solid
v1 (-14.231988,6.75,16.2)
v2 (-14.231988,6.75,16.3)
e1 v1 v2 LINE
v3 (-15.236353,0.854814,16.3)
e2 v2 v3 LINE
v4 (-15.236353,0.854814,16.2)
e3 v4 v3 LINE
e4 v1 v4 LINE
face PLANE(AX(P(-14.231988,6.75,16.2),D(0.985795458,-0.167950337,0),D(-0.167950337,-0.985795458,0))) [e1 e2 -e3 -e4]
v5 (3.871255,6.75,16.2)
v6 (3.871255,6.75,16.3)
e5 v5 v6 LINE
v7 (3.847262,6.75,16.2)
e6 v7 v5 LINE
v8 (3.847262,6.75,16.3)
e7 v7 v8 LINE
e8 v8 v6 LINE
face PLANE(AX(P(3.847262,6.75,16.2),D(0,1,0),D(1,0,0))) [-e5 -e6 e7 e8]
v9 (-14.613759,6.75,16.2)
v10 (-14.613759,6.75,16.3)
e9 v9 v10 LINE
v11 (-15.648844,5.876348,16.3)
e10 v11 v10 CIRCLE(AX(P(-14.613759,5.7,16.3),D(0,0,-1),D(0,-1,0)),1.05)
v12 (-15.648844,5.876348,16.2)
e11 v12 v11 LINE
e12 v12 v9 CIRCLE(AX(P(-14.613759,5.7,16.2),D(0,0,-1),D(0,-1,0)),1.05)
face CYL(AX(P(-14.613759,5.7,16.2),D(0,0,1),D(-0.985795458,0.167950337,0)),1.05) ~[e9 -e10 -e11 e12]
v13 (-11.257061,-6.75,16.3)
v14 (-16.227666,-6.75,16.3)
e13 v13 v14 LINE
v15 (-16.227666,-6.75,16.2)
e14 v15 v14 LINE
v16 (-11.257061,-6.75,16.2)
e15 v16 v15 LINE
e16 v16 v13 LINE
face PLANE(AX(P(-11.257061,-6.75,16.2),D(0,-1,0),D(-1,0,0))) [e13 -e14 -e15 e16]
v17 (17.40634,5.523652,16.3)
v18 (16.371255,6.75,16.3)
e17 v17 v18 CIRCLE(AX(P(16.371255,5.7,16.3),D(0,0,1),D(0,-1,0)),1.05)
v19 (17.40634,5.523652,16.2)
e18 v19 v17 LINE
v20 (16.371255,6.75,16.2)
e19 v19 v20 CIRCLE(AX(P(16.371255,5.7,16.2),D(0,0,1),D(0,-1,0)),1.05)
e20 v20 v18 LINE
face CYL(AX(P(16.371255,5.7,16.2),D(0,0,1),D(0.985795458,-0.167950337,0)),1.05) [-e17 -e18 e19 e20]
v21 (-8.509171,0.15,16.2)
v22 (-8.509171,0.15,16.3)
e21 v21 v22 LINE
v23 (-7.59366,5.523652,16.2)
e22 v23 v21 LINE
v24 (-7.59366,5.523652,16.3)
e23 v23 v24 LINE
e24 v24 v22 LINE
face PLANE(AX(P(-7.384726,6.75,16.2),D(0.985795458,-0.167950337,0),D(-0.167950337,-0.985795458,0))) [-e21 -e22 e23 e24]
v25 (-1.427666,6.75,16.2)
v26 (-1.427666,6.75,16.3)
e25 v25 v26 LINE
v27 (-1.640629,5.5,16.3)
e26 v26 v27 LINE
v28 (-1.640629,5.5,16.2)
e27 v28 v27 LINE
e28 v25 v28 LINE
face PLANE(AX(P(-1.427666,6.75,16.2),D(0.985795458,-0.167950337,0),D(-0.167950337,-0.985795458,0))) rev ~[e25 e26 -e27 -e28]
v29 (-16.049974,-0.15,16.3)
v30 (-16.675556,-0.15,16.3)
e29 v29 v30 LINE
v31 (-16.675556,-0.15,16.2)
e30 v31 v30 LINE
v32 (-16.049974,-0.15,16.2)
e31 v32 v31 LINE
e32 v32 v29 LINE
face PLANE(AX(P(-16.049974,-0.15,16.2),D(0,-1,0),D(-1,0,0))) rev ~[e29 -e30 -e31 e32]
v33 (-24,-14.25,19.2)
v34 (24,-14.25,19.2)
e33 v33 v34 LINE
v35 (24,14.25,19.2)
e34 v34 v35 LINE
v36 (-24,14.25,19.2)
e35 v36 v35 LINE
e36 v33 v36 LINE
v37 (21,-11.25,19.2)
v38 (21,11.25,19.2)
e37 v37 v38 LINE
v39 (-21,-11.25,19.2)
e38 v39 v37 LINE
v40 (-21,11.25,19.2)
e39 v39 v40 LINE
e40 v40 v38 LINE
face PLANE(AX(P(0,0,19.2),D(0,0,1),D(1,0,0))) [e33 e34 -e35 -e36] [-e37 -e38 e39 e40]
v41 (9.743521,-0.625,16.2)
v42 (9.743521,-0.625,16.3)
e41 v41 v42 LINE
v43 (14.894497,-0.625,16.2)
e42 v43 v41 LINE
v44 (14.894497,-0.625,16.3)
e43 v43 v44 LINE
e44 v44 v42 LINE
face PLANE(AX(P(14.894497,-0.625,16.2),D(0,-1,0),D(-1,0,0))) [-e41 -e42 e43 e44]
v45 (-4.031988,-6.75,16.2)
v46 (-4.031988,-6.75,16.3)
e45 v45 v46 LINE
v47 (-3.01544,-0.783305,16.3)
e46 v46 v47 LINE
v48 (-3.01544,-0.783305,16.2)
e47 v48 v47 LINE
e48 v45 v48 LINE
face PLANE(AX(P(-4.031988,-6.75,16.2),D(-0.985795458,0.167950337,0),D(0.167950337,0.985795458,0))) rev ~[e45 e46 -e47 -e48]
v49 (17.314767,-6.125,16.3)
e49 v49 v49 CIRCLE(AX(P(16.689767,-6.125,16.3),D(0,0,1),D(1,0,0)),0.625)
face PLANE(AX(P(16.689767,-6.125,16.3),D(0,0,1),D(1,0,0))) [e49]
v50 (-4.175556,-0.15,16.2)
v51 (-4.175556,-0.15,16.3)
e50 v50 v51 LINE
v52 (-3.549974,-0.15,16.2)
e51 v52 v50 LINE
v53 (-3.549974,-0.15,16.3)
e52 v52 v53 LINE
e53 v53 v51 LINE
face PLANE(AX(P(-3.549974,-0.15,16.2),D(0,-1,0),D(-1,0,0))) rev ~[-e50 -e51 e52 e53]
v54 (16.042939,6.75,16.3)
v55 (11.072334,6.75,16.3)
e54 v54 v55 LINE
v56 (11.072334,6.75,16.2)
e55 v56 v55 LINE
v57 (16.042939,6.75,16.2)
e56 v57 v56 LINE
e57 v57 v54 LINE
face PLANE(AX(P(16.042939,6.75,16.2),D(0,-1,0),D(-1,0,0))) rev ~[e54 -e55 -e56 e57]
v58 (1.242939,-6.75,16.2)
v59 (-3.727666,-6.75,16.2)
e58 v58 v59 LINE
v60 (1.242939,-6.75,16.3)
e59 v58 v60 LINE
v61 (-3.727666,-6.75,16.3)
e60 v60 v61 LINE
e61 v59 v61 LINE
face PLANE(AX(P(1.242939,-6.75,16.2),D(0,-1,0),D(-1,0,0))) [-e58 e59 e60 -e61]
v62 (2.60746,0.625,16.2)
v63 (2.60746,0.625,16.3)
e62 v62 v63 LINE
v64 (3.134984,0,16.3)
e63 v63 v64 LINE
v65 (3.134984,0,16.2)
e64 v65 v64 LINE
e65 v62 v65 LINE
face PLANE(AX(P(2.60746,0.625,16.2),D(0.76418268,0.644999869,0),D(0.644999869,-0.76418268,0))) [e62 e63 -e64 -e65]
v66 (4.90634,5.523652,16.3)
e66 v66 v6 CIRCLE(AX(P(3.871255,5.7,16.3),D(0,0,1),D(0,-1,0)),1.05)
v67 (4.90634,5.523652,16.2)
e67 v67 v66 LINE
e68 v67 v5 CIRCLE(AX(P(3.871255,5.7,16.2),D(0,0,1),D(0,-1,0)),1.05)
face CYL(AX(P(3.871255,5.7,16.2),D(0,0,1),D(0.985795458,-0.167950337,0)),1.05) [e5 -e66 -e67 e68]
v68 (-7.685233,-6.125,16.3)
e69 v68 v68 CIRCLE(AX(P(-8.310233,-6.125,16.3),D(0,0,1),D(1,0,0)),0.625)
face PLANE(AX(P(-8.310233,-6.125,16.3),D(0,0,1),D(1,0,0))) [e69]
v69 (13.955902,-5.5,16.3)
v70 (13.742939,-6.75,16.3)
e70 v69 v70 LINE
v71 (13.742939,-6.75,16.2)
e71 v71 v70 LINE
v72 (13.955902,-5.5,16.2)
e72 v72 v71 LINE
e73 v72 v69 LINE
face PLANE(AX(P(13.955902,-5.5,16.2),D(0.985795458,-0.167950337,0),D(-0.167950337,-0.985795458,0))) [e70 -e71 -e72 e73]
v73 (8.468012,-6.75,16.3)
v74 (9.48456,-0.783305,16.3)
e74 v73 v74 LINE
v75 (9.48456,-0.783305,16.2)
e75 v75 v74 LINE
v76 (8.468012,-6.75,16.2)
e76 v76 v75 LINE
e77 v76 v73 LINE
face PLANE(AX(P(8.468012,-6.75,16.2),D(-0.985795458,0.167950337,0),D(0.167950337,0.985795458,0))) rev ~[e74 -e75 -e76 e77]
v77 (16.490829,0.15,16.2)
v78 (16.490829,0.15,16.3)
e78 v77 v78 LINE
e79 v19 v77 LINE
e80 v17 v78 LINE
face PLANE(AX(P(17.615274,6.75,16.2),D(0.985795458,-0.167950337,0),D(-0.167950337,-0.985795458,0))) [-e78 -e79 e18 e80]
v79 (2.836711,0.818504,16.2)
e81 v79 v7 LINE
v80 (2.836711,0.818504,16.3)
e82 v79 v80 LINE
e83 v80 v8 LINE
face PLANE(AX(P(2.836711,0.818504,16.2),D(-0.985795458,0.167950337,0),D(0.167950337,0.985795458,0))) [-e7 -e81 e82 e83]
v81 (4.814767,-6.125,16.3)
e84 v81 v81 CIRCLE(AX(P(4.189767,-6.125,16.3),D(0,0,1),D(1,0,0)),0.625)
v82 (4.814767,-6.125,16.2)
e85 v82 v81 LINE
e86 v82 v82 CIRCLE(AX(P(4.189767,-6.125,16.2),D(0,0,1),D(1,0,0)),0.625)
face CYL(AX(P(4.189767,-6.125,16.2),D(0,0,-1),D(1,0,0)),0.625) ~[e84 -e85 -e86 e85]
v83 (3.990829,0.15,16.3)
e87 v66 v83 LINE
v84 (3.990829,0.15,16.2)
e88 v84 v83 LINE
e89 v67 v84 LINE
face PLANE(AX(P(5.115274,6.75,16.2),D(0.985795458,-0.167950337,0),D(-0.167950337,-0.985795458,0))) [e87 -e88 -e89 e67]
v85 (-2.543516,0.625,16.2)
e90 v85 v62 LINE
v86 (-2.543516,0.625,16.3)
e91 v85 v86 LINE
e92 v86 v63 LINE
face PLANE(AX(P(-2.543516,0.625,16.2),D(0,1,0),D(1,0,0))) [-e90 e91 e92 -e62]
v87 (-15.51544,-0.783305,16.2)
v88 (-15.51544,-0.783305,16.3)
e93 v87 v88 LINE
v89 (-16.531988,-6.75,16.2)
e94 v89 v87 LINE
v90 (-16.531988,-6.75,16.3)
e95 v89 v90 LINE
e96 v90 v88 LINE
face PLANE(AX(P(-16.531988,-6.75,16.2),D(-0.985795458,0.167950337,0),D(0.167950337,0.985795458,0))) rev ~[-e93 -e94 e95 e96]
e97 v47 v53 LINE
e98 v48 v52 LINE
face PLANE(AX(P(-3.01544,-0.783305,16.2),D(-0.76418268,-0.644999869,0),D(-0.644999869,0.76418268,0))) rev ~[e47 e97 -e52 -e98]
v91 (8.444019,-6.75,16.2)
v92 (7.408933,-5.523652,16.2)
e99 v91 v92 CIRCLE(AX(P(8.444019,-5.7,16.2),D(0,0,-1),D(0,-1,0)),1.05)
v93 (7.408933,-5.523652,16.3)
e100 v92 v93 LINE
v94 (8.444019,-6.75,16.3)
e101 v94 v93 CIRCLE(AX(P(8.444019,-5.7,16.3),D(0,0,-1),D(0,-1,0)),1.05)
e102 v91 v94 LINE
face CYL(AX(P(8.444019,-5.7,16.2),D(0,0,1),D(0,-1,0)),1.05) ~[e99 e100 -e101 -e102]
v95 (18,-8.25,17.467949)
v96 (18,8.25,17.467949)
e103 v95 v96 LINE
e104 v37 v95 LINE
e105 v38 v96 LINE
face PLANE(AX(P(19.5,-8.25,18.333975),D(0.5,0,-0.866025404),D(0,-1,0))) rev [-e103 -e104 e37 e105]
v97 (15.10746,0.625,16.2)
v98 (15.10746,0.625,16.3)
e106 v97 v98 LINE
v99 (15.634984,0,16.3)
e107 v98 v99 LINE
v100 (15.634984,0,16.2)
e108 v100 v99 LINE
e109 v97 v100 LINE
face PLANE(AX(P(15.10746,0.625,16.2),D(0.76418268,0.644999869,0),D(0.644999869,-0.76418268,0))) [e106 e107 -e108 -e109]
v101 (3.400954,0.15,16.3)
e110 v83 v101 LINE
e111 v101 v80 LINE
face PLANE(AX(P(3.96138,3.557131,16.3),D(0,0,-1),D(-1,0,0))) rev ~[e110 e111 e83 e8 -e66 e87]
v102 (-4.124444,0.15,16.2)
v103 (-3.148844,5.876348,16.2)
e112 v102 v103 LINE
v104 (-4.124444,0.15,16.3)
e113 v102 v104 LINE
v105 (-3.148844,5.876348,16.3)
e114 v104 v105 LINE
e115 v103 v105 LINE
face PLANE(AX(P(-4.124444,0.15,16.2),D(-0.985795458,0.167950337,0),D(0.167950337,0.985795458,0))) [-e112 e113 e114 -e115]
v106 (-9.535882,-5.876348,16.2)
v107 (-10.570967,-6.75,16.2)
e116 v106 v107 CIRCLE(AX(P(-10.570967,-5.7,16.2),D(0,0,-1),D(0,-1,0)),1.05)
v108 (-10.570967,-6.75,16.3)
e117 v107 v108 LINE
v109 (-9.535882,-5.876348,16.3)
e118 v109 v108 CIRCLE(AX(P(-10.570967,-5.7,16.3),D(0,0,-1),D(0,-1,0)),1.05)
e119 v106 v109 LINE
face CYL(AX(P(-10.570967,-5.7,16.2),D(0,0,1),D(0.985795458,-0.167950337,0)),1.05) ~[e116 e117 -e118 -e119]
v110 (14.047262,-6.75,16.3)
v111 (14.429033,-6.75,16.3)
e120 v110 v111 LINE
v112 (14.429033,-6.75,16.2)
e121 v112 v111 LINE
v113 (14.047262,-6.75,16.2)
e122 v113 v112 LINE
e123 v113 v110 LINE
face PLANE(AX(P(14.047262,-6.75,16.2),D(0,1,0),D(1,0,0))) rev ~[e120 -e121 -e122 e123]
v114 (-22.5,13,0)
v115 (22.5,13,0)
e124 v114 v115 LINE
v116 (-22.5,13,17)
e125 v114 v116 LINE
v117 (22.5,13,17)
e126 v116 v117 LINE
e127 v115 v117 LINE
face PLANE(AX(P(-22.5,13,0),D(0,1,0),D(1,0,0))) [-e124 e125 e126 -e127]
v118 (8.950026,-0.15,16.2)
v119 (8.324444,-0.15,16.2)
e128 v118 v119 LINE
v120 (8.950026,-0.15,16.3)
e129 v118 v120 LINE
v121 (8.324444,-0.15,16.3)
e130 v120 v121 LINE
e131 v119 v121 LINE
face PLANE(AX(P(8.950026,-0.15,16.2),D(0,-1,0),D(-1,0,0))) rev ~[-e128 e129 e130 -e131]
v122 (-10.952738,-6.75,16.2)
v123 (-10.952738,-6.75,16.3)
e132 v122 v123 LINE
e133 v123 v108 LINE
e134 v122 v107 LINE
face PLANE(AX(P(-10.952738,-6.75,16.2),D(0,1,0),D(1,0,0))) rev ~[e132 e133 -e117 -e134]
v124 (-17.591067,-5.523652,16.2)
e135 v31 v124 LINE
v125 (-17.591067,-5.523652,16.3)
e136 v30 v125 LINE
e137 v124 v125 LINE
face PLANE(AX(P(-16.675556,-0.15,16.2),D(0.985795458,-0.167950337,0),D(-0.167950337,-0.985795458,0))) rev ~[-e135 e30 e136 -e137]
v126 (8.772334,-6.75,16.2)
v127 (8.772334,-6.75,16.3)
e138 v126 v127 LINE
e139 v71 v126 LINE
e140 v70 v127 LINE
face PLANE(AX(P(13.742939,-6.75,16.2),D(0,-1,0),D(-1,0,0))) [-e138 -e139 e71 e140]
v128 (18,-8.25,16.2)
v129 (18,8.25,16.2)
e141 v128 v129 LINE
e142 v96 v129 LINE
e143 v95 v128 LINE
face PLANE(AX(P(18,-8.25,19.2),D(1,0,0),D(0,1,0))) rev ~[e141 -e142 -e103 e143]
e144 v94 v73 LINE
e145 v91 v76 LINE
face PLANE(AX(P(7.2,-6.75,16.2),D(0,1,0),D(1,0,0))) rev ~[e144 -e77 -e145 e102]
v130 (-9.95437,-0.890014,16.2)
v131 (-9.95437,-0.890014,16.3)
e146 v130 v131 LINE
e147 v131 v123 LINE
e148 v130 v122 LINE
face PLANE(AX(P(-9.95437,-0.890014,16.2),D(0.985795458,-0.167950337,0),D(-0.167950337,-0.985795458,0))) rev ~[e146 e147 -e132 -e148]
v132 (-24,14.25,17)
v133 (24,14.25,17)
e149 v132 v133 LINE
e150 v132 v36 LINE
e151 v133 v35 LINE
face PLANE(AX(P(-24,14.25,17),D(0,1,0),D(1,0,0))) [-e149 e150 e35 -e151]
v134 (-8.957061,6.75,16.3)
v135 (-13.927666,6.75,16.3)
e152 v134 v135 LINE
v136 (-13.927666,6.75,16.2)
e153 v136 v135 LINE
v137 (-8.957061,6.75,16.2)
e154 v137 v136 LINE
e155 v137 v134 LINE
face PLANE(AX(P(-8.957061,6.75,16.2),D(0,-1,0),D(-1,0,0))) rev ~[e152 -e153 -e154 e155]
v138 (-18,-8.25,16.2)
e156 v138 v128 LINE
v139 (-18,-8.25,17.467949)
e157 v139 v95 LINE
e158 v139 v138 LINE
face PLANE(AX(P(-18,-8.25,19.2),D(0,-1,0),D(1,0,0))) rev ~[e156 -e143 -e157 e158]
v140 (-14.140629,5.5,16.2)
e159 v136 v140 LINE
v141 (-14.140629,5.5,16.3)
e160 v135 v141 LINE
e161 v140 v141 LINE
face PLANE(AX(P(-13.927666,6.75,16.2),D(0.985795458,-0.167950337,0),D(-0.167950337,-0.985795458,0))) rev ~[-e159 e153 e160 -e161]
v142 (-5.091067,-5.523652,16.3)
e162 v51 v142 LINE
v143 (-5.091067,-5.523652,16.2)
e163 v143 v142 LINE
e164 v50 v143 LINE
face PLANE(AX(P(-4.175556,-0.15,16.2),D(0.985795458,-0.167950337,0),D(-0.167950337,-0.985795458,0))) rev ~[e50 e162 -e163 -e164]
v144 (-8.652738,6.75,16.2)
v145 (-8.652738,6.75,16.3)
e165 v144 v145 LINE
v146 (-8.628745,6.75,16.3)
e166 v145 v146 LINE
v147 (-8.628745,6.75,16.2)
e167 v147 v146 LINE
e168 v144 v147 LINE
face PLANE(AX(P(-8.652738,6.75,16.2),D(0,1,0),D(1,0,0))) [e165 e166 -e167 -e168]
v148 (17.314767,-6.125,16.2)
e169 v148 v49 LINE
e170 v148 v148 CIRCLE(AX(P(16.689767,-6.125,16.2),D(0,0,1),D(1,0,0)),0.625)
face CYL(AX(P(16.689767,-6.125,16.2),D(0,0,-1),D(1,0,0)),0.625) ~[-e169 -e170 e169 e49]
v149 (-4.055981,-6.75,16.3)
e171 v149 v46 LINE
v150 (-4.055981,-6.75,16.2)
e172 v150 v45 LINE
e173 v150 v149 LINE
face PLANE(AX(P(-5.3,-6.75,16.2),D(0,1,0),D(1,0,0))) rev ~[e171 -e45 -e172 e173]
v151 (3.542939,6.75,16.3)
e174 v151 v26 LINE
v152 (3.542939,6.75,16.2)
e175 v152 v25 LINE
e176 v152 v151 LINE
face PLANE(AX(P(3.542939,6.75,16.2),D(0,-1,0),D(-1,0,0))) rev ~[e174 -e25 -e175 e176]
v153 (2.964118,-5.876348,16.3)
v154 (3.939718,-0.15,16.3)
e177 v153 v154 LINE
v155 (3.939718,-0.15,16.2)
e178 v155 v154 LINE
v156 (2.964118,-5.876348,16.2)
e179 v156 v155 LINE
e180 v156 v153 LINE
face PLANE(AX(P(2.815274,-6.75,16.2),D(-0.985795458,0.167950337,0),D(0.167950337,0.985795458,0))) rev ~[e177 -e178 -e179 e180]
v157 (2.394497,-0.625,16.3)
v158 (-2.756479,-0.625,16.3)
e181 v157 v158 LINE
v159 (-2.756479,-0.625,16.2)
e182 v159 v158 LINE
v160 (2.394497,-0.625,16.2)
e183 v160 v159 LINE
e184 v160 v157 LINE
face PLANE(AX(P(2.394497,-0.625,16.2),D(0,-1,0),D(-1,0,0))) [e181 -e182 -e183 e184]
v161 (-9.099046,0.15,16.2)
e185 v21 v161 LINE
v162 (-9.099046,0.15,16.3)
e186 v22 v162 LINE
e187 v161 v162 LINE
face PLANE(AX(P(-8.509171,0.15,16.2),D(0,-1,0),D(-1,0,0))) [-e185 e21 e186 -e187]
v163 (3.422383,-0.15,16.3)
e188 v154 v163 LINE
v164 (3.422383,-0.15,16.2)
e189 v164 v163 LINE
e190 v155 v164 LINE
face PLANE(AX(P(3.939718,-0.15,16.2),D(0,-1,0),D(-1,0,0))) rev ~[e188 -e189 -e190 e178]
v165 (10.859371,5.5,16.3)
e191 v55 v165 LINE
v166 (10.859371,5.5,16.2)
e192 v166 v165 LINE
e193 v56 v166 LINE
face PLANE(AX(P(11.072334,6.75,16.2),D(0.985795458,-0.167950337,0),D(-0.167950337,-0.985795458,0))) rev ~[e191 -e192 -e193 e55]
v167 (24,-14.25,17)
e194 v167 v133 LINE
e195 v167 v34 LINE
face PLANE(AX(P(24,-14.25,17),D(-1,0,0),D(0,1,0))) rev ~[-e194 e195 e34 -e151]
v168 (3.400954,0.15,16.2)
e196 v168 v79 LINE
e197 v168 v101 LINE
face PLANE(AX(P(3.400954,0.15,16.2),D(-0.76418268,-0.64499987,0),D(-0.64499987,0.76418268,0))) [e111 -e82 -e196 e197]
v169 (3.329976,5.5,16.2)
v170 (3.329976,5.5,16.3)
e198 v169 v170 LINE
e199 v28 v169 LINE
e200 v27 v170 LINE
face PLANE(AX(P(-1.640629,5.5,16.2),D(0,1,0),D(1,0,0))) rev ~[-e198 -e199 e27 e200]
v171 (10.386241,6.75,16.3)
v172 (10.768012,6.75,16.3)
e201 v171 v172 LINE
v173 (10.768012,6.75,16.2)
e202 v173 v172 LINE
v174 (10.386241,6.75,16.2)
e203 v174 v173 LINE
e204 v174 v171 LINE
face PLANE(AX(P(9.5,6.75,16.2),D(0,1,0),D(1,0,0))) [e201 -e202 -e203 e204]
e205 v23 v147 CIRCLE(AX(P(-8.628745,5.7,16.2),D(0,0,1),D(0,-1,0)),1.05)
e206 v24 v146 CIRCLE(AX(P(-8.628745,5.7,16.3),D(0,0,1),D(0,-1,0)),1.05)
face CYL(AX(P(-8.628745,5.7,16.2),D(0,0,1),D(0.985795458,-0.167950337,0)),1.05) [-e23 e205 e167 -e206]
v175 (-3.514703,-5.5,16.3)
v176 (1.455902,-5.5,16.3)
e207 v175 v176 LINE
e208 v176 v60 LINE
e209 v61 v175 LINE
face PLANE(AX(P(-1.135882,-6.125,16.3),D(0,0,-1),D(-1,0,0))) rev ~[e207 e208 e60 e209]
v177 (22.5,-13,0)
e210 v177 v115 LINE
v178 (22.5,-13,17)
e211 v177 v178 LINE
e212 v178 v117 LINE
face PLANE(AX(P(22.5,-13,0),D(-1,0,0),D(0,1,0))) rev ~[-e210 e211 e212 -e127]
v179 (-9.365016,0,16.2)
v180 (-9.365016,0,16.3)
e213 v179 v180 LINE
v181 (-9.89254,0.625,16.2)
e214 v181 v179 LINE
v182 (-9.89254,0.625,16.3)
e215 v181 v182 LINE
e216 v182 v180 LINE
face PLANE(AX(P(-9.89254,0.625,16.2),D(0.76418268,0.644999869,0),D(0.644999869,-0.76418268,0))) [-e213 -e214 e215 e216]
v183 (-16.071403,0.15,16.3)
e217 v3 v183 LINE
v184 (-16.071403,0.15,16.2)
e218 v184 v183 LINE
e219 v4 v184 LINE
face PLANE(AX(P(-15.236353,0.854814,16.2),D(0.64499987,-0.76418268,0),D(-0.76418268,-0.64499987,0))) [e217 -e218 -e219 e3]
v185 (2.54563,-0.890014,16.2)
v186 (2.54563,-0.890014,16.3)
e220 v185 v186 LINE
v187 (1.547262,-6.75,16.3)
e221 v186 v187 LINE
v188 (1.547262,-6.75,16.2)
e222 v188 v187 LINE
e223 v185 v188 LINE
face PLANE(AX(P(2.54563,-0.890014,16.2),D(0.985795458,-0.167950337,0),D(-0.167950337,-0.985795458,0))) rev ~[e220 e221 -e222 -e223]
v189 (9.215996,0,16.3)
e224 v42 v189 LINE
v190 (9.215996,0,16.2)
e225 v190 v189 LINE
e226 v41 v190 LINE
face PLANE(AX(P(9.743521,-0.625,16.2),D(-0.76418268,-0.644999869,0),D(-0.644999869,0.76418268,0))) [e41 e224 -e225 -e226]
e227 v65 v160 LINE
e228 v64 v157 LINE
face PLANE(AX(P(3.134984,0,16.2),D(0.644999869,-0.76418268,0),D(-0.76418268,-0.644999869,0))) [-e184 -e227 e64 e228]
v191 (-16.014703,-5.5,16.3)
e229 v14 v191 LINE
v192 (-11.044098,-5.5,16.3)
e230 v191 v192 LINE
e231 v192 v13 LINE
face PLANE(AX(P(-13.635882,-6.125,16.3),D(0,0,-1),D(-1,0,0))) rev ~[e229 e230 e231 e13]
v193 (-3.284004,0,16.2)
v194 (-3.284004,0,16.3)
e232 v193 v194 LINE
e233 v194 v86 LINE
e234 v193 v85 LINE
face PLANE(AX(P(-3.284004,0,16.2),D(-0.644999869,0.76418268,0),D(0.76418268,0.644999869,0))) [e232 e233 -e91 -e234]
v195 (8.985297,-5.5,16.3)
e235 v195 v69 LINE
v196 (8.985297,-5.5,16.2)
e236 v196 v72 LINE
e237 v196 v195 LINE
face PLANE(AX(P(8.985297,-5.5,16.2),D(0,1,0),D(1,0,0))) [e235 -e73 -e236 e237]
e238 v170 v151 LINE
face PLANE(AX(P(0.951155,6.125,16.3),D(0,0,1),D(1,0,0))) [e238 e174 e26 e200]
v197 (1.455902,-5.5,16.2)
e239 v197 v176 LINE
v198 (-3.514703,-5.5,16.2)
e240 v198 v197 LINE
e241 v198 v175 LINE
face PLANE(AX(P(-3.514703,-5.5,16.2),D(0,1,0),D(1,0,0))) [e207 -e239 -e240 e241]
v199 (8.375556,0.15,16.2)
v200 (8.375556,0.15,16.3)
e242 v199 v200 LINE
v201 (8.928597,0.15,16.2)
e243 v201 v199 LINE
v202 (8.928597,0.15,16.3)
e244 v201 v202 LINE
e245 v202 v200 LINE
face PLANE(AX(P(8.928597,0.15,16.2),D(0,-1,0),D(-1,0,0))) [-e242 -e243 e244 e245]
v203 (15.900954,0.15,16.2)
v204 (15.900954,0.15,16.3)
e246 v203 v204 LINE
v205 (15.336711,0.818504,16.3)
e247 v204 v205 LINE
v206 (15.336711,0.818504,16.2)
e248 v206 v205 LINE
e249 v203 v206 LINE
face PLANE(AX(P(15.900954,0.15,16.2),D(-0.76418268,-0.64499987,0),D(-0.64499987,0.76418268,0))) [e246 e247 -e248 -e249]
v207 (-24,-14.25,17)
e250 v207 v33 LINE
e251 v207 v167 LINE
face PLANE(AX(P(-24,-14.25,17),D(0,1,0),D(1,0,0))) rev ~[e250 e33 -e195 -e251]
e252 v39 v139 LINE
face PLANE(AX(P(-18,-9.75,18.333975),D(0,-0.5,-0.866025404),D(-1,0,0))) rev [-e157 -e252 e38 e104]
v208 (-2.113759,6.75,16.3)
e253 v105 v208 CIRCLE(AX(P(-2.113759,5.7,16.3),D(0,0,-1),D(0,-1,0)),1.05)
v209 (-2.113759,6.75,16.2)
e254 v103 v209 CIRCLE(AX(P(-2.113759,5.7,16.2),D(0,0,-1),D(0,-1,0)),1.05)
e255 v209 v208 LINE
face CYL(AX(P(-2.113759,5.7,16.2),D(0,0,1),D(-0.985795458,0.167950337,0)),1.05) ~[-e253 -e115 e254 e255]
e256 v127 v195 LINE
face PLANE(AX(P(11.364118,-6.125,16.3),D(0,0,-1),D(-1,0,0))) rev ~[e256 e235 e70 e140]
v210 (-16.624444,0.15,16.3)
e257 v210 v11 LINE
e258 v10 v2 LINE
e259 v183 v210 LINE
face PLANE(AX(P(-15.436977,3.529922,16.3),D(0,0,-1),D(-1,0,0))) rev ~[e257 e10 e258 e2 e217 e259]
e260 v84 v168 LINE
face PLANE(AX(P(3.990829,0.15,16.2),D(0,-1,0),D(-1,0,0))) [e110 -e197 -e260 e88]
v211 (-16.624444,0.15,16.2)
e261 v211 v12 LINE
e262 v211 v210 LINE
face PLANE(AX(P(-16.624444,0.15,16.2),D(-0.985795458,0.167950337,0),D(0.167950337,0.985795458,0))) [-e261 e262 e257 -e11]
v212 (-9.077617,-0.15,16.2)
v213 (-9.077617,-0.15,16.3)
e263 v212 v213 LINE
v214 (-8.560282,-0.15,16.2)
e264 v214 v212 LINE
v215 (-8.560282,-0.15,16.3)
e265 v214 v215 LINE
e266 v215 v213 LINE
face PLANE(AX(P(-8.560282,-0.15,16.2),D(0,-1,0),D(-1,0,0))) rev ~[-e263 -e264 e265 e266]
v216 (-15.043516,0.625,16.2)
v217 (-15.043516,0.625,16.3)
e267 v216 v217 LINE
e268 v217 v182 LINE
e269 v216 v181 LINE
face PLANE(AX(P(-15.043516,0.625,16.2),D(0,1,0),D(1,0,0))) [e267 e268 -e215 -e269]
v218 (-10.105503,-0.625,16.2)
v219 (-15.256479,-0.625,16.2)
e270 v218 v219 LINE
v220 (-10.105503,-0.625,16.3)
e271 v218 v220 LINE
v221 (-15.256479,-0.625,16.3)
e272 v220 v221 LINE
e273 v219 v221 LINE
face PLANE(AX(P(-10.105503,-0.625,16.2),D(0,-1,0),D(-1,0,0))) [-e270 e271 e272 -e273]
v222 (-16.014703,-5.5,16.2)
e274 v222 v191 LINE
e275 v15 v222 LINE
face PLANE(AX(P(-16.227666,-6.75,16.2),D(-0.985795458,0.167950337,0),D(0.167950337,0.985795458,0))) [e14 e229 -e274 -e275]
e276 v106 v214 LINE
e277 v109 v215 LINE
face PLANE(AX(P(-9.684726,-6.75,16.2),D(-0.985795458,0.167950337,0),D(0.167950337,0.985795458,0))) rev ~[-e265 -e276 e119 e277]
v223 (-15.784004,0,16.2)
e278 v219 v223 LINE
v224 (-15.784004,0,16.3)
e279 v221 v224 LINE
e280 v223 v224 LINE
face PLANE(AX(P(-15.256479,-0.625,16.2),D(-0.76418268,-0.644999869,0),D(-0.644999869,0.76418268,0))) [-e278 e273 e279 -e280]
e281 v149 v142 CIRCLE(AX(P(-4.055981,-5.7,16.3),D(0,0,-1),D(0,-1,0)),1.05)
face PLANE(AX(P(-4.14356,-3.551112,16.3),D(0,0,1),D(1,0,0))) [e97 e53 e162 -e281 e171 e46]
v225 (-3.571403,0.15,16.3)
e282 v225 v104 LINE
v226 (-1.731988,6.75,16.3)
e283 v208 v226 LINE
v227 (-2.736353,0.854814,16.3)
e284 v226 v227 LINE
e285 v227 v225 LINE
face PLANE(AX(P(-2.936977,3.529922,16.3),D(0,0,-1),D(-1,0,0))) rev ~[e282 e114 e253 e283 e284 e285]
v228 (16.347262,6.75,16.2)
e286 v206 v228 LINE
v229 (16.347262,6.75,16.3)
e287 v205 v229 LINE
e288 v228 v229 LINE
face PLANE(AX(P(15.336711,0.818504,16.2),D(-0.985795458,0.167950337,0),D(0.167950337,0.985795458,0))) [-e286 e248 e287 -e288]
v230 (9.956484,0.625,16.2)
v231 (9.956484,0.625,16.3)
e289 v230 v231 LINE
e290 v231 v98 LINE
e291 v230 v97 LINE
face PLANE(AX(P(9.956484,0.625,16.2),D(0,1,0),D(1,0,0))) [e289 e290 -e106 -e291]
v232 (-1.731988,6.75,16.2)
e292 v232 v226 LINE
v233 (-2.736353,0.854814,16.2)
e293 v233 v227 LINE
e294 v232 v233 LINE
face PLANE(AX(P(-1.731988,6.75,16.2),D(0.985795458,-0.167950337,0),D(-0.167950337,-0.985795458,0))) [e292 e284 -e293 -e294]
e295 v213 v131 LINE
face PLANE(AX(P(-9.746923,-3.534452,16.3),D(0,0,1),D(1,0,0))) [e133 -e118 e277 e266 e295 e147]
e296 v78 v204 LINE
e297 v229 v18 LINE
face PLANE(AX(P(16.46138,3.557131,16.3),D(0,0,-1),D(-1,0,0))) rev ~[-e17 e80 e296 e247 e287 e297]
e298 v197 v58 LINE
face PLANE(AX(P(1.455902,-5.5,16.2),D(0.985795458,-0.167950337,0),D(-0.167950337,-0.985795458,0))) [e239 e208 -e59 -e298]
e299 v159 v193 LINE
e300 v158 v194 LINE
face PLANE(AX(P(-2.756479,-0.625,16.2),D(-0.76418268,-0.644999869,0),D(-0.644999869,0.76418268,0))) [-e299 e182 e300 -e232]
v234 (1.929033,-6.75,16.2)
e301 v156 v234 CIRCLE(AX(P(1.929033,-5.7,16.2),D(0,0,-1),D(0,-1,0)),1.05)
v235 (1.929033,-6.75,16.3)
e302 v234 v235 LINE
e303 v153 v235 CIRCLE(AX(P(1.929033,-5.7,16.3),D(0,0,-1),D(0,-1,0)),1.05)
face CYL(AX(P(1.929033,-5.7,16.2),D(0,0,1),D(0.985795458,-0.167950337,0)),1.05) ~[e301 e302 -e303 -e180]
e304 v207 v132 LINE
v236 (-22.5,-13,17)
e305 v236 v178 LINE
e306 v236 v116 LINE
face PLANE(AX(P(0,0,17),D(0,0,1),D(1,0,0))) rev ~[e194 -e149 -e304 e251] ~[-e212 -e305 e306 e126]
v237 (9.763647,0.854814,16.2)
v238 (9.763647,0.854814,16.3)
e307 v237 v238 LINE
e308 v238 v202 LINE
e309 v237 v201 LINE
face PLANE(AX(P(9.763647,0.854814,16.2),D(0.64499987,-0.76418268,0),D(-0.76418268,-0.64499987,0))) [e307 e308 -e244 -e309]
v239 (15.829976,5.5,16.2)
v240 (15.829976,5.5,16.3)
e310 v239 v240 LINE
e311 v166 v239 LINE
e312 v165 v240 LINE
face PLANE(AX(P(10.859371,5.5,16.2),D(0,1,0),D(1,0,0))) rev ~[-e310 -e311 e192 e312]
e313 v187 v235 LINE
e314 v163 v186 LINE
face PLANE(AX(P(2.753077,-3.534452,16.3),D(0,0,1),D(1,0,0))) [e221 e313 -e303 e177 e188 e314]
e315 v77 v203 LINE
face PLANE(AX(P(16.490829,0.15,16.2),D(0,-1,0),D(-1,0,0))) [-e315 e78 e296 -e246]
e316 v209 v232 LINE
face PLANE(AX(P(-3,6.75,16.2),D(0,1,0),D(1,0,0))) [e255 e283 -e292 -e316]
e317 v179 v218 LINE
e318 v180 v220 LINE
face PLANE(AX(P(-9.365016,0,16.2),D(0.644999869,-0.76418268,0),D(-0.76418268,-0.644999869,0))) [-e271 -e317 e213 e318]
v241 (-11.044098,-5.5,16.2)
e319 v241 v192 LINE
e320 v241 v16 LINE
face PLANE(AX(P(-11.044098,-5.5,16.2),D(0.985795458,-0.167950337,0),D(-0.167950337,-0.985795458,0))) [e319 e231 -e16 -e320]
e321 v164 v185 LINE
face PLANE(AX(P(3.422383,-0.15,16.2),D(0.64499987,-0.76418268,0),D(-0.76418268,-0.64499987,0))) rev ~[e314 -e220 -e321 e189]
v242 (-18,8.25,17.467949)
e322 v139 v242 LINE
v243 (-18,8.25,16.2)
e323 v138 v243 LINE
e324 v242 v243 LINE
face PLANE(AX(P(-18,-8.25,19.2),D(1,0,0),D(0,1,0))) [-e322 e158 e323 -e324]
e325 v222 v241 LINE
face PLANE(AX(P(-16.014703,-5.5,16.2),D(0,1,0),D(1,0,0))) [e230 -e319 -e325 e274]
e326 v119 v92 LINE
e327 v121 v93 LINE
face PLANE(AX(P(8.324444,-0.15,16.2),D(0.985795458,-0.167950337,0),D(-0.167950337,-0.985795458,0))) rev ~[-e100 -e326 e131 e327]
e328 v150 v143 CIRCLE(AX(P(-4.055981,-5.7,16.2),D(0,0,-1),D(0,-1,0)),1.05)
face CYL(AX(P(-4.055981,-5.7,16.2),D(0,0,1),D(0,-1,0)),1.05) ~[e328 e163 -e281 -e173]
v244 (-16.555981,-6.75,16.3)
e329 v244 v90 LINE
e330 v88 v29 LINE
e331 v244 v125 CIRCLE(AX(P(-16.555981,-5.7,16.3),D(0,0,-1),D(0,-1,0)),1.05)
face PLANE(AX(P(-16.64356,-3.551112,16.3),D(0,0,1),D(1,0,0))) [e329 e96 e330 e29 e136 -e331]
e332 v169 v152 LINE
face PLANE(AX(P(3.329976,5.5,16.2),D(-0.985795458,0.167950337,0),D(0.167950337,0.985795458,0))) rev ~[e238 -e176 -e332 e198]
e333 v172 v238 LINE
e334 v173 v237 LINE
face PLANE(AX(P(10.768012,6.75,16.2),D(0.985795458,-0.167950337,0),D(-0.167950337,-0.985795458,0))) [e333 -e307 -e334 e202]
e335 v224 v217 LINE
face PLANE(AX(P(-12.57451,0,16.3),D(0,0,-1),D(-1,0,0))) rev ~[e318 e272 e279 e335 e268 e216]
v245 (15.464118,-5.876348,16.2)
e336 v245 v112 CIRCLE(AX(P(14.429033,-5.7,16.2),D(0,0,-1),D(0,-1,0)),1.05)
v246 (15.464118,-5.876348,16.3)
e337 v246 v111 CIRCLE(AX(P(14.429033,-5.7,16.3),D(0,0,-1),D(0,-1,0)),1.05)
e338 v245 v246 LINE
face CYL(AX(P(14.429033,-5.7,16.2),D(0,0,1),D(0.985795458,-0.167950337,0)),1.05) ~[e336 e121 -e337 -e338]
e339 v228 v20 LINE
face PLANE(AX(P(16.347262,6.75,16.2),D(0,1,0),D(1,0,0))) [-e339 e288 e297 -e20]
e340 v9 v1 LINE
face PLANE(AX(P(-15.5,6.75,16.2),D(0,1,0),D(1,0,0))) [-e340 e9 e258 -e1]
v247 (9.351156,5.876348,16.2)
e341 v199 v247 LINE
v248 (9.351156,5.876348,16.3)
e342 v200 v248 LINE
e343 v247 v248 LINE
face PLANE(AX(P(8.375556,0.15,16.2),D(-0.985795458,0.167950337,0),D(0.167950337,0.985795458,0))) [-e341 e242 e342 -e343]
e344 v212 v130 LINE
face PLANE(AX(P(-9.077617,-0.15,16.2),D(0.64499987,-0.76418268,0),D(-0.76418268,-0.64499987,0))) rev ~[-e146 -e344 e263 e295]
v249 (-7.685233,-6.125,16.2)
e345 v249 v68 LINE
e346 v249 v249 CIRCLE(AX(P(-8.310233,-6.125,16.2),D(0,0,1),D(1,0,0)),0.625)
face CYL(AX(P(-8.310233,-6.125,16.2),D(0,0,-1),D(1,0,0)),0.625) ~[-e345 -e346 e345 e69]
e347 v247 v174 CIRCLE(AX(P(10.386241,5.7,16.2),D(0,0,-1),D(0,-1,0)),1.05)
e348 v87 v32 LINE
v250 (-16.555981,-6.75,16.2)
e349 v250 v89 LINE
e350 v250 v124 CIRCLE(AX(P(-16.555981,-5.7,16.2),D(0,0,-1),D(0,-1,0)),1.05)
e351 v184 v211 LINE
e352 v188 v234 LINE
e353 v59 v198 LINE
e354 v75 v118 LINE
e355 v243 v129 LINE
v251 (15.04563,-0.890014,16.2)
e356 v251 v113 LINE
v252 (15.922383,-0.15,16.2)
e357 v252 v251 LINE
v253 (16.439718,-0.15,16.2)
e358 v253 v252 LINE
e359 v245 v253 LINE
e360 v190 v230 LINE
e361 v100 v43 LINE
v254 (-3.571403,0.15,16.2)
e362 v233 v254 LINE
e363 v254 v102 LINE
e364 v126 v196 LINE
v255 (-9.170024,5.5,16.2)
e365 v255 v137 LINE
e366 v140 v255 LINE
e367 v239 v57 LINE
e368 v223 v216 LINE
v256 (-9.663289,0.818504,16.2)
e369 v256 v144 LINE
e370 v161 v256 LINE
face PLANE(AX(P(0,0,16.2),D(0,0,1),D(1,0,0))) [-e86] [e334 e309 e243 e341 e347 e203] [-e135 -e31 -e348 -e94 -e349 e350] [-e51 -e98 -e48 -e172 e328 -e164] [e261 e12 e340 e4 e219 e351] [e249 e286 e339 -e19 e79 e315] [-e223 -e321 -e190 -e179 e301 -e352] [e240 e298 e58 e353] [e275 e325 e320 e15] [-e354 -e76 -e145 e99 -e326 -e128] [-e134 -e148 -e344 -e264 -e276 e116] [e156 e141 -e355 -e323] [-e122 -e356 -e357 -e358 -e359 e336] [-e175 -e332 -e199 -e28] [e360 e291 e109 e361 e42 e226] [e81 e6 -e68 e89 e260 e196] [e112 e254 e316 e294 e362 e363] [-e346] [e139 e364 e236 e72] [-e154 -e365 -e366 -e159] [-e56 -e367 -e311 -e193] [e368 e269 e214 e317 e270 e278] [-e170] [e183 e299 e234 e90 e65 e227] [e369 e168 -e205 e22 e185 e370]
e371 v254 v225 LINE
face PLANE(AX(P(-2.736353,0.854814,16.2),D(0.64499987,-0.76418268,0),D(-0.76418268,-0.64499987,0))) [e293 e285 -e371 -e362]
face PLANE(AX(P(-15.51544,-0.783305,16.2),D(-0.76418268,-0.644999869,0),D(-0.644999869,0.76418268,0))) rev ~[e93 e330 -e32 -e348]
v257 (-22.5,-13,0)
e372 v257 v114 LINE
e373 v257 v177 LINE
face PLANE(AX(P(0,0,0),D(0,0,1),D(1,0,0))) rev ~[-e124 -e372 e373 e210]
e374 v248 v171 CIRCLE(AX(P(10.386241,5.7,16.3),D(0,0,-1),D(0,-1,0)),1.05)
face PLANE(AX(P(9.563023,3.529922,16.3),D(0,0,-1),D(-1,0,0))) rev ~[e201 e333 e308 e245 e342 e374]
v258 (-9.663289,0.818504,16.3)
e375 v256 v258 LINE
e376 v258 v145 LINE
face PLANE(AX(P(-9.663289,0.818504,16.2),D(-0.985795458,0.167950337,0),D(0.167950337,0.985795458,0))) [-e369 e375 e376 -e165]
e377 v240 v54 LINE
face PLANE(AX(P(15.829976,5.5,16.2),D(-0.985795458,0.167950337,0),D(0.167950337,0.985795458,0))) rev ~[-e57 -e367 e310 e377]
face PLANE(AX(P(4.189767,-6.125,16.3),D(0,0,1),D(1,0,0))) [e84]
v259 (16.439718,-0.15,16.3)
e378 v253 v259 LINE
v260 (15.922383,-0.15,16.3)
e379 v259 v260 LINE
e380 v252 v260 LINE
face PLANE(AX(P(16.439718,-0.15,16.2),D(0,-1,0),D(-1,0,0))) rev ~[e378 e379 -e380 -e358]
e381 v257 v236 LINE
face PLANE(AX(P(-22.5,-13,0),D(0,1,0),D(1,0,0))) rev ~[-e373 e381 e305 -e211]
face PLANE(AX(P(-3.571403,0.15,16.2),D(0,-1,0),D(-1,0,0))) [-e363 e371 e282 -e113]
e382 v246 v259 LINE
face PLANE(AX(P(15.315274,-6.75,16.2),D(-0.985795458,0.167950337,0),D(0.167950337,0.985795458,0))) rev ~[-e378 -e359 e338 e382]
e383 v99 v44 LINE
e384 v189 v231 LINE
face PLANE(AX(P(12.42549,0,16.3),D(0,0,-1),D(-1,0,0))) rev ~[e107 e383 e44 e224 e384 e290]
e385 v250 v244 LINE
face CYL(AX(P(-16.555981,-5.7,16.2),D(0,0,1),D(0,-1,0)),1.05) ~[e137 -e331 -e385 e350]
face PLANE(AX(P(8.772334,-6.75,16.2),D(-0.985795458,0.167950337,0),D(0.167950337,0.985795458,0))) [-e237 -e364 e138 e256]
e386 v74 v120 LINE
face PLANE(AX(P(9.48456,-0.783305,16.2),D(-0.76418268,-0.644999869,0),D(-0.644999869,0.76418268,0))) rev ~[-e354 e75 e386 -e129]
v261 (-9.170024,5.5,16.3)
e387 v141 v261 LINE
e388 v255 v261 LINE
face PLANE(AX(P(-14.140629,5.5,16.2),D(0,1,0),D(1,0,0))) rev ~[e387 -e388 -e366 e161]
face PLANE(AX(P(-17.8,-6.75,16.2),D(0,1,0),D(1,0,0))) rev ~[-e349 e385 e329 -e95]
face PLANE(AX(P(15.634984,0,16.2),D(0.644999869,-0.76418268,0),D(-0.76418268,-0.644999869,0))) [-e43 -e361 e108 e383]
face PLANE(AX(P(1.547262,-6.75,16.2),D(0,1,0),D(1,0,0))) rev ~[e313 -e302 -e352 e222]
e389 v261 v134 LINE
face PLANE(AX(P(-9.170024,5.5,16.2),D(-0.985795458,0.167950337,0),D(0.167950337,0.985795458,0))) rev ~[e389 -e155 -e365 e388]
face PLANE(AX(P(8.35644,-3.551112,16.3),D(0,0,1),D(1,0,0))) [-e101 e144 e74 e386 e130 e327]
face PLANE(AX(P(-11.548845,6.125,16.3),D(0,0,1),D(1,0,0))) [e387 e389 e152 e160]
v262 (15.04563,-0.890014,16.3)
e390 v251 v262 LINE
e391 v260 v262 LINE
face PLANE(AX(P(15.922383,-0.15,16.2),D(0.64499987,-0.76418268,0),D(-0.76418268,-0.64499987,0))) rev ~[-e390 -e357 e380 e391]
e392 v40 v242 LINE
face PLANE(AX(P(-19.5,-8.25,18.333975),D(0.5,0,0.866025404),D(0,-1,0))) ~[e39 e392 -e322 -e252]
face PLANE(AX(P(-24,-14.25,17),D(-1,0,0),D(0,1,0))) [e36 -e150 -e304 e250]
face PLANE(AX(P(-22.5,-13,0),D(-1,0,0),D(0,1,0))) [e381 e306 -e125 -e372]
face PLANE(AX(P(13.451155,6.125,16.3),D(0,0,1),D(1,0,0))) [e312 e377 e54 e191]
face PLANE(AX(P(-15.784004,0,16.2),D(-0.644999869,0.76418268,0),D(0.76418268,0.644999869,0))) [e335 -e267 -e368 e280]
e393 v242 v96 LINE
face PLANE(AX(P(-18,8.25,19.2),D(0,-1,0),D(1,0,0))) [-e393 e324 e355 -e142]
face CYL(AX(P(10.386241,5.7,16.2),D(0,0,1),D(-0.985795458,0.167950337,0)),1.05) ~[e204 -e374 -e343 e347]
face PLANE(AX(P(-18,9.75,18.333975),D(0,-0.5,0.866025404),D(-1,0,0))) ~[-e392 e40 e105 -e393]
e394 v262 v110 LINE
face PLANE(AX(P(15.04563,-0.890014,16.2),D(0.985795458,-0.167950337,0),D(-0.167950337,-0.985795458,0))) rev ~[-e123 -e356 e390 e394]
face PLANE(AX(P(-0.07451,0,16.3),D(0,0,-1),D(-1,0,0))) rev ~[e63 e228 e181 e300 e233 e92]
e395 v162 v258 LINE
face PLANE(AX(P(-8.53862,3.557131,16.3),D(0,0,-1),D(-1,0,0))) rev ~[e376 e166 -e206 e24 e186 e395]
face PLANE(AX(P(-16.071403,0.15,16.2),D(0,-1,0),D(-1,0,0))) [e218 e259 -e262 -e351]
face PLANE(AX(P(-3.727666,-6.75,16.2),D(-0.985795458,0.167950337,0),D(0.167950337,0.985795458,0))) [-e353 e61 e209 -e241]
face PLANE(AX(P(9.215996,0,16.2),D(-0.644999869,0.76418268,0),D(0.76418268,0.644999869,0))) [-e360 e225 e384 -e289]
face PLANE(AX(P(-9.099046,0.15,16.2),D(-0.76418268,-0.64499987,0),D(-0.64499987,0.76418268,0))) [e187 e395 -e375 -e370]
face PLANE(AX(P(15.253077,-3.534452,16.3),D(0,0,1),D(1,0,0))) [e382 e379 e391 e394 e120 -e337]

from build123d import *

# Parameters (mm, degrees)
SKETCH_1_W                    = 45
SKETCH_1_H                    = 26
BOSS_EXTRUDE1_DEPTH           = 17
SKETCH_W                      = 48
SKETCH_H                      = 28.5
BOSS_EXTRUDE2_DEPTH           = 2.2
SKETCH_3_W                    = 36
SKETCH_3_H                    = 16.5
CUT_EXTRUDE1_DEPTH            = 3
CHAMFER_1_SIZE                = 3
CHAMFER_1_SIZE2               = 1.732050808
SKETCH_4_R                    = 0.625
BOSS_EXTRUDE3_DEPTH           = 0.1
ROUNDING_1_R                  = 1.05
LINEAR_ARRAY1_COUNT           = 3
LINEAR_ARRAY1_PITCH           = 12.5
ROUNDING_1_OF_LINEAR_ARRAY1_R = 1.05


with BuildPart() as part:
    # sketch 1 → Boss-Extrude1 (new body)
    with BuildSketch(Plane.XY):
        Rectangle(SKETCH_1_W, SKETCH_1_H)
    extrude(amount=BOSS_EXTRUDE1_DEPTH)

    # sketch → Boss-Extrude2 (add)
    with BuildSketch(Plane.XY.offset(17)):
        Rectangle(SKETCH_W, SKETCH_H)
    extrude(amount=BOSS_EXTRUDE2_DEPTH)

    # sketch 3 → Cut-Extrude1 (cut)
    with BuildSketch(Plane.XY.offset(19.2)):
        Rectangle(SKETCH_3_W, SKETCH_3_H)
    extrude(amount=-CUT_EXTRUDE1_DEPTH, mode=Mode.SUBTRACT)

    # chamfer 1
    chamfer_1_edges = [part.edges().sort_by_distance(p)[0] for p in [
        (-18, 0, 19.2),
        (0, -8.25, 19.2),
        (18, 0, 19.2),
        (0, 8.25, 19.2),
    ]]
    chamfer_1_side = [part.faces().sort_by_distance(p)[0] for p in [
        (0, -13.691766178, 19.2),
    ]]
    chamfer(chamfer_1_edges, length=CHAMFER_1_SIZE, length2=CHAMFER_1_SIZE2, reference=chamfer_1_side[0])

    # sketch 4 → Boss-Extrude3 (add)
    with BuildSketch(Plane.XY.offset(16.2)):
        with Locations((-8.310233245, -6.125)):
            Circle(SKETCH_4_R)
        Polygon((-17.8, -6.75), (-16.531988477, -6.75), (-15.515440373, -0.783304607), (-16.049974064, -0.15), (-16.675555556, -0.15), align=None)
        Polygon((-9.68472625, -6.75), (-8.560281805, -0.15), (-9.077616658, -0.15), (-9.954369729, -0.890013653), (-10.952737773, -6.75), align=None)
        Polygon((-15.5, 6.75), (-14.231988477, 6.75), (-15.236353449, 0.854814294), (-16.071403038, 0.15), (-16.624444444, 0.15), align=None)
        Polygon((-8.509170694, 0.15), (-9.099045632, 0.15), (-9.66328895, 0.818503966), (-8.652737773, 6.75), (-7.38472625, 6.75), align=None)
        Polygon((-15.784003603, 0), (-15.04351636, 0.625), (-9.892540373, 0.625), (-9.365016093, 0), (-10.105503336, -0.625), (-15.256479323, -0.625), align=None)
        Polygon((-13.927665711, 6.75), (-14.140628674, 5.5), (-9.170023502, 5.5), (-8.957060539, 6.75), align=None)
        Polygon((-16.227665711, -6.75), (-16.014702748, -5.5), (-11.044097576, -5.5), (-11.257060539, -6.75), align=None)
    boss_extrude3 = extrude(amount=BOSS_EXTRUDE3_DEPTH)

    # rounding 1
    rounding_1_edges = [part.edges().sort_by_distance(p)[0] for p in [
        (-17.8, -6.75, 16.25),
        (-9.68472625, -6.75, 16.25),
        (-7.38472625, 6.75, 16.25),
        (-15.5, 6.75, 16.25),
    ]]
    fillet(rounding_1_edges, radius=ROUNDING_1_R)

    # Linear array1: Boss-Extrude3 ×3
    with Locations(*[(i * LINEAR_ARRAY1_PITCH, 0, 0) for i in range(1, LINEAR_ARRAY1_COUNT)]):
        add(boss_extrude3)

    # rounding 1 of Linear array1
    rounding_1_of_linear_array1_edges = [part.edges().sort_by_distance(p)[0] for p in [
        (-5.3, -6.75, 16.25),
        (2.81527375, -6.75, 16.25),
        (5.11527375, 6.75, 16.25),
        (-3, 6.75, 16.25),
        (7.2, -6.75, 16.25),
        (15.31527375, -6.75, 16.25),
        (17.61527375, 6.75, 16.25),
        (9.5, 6.75, 16.25),
    ]]
    fillet(rounding_1_of_linear_array1_edges, radius=ROUNDING_1_OF_LINEAR_ARRAY1_R)


solid = part.part
